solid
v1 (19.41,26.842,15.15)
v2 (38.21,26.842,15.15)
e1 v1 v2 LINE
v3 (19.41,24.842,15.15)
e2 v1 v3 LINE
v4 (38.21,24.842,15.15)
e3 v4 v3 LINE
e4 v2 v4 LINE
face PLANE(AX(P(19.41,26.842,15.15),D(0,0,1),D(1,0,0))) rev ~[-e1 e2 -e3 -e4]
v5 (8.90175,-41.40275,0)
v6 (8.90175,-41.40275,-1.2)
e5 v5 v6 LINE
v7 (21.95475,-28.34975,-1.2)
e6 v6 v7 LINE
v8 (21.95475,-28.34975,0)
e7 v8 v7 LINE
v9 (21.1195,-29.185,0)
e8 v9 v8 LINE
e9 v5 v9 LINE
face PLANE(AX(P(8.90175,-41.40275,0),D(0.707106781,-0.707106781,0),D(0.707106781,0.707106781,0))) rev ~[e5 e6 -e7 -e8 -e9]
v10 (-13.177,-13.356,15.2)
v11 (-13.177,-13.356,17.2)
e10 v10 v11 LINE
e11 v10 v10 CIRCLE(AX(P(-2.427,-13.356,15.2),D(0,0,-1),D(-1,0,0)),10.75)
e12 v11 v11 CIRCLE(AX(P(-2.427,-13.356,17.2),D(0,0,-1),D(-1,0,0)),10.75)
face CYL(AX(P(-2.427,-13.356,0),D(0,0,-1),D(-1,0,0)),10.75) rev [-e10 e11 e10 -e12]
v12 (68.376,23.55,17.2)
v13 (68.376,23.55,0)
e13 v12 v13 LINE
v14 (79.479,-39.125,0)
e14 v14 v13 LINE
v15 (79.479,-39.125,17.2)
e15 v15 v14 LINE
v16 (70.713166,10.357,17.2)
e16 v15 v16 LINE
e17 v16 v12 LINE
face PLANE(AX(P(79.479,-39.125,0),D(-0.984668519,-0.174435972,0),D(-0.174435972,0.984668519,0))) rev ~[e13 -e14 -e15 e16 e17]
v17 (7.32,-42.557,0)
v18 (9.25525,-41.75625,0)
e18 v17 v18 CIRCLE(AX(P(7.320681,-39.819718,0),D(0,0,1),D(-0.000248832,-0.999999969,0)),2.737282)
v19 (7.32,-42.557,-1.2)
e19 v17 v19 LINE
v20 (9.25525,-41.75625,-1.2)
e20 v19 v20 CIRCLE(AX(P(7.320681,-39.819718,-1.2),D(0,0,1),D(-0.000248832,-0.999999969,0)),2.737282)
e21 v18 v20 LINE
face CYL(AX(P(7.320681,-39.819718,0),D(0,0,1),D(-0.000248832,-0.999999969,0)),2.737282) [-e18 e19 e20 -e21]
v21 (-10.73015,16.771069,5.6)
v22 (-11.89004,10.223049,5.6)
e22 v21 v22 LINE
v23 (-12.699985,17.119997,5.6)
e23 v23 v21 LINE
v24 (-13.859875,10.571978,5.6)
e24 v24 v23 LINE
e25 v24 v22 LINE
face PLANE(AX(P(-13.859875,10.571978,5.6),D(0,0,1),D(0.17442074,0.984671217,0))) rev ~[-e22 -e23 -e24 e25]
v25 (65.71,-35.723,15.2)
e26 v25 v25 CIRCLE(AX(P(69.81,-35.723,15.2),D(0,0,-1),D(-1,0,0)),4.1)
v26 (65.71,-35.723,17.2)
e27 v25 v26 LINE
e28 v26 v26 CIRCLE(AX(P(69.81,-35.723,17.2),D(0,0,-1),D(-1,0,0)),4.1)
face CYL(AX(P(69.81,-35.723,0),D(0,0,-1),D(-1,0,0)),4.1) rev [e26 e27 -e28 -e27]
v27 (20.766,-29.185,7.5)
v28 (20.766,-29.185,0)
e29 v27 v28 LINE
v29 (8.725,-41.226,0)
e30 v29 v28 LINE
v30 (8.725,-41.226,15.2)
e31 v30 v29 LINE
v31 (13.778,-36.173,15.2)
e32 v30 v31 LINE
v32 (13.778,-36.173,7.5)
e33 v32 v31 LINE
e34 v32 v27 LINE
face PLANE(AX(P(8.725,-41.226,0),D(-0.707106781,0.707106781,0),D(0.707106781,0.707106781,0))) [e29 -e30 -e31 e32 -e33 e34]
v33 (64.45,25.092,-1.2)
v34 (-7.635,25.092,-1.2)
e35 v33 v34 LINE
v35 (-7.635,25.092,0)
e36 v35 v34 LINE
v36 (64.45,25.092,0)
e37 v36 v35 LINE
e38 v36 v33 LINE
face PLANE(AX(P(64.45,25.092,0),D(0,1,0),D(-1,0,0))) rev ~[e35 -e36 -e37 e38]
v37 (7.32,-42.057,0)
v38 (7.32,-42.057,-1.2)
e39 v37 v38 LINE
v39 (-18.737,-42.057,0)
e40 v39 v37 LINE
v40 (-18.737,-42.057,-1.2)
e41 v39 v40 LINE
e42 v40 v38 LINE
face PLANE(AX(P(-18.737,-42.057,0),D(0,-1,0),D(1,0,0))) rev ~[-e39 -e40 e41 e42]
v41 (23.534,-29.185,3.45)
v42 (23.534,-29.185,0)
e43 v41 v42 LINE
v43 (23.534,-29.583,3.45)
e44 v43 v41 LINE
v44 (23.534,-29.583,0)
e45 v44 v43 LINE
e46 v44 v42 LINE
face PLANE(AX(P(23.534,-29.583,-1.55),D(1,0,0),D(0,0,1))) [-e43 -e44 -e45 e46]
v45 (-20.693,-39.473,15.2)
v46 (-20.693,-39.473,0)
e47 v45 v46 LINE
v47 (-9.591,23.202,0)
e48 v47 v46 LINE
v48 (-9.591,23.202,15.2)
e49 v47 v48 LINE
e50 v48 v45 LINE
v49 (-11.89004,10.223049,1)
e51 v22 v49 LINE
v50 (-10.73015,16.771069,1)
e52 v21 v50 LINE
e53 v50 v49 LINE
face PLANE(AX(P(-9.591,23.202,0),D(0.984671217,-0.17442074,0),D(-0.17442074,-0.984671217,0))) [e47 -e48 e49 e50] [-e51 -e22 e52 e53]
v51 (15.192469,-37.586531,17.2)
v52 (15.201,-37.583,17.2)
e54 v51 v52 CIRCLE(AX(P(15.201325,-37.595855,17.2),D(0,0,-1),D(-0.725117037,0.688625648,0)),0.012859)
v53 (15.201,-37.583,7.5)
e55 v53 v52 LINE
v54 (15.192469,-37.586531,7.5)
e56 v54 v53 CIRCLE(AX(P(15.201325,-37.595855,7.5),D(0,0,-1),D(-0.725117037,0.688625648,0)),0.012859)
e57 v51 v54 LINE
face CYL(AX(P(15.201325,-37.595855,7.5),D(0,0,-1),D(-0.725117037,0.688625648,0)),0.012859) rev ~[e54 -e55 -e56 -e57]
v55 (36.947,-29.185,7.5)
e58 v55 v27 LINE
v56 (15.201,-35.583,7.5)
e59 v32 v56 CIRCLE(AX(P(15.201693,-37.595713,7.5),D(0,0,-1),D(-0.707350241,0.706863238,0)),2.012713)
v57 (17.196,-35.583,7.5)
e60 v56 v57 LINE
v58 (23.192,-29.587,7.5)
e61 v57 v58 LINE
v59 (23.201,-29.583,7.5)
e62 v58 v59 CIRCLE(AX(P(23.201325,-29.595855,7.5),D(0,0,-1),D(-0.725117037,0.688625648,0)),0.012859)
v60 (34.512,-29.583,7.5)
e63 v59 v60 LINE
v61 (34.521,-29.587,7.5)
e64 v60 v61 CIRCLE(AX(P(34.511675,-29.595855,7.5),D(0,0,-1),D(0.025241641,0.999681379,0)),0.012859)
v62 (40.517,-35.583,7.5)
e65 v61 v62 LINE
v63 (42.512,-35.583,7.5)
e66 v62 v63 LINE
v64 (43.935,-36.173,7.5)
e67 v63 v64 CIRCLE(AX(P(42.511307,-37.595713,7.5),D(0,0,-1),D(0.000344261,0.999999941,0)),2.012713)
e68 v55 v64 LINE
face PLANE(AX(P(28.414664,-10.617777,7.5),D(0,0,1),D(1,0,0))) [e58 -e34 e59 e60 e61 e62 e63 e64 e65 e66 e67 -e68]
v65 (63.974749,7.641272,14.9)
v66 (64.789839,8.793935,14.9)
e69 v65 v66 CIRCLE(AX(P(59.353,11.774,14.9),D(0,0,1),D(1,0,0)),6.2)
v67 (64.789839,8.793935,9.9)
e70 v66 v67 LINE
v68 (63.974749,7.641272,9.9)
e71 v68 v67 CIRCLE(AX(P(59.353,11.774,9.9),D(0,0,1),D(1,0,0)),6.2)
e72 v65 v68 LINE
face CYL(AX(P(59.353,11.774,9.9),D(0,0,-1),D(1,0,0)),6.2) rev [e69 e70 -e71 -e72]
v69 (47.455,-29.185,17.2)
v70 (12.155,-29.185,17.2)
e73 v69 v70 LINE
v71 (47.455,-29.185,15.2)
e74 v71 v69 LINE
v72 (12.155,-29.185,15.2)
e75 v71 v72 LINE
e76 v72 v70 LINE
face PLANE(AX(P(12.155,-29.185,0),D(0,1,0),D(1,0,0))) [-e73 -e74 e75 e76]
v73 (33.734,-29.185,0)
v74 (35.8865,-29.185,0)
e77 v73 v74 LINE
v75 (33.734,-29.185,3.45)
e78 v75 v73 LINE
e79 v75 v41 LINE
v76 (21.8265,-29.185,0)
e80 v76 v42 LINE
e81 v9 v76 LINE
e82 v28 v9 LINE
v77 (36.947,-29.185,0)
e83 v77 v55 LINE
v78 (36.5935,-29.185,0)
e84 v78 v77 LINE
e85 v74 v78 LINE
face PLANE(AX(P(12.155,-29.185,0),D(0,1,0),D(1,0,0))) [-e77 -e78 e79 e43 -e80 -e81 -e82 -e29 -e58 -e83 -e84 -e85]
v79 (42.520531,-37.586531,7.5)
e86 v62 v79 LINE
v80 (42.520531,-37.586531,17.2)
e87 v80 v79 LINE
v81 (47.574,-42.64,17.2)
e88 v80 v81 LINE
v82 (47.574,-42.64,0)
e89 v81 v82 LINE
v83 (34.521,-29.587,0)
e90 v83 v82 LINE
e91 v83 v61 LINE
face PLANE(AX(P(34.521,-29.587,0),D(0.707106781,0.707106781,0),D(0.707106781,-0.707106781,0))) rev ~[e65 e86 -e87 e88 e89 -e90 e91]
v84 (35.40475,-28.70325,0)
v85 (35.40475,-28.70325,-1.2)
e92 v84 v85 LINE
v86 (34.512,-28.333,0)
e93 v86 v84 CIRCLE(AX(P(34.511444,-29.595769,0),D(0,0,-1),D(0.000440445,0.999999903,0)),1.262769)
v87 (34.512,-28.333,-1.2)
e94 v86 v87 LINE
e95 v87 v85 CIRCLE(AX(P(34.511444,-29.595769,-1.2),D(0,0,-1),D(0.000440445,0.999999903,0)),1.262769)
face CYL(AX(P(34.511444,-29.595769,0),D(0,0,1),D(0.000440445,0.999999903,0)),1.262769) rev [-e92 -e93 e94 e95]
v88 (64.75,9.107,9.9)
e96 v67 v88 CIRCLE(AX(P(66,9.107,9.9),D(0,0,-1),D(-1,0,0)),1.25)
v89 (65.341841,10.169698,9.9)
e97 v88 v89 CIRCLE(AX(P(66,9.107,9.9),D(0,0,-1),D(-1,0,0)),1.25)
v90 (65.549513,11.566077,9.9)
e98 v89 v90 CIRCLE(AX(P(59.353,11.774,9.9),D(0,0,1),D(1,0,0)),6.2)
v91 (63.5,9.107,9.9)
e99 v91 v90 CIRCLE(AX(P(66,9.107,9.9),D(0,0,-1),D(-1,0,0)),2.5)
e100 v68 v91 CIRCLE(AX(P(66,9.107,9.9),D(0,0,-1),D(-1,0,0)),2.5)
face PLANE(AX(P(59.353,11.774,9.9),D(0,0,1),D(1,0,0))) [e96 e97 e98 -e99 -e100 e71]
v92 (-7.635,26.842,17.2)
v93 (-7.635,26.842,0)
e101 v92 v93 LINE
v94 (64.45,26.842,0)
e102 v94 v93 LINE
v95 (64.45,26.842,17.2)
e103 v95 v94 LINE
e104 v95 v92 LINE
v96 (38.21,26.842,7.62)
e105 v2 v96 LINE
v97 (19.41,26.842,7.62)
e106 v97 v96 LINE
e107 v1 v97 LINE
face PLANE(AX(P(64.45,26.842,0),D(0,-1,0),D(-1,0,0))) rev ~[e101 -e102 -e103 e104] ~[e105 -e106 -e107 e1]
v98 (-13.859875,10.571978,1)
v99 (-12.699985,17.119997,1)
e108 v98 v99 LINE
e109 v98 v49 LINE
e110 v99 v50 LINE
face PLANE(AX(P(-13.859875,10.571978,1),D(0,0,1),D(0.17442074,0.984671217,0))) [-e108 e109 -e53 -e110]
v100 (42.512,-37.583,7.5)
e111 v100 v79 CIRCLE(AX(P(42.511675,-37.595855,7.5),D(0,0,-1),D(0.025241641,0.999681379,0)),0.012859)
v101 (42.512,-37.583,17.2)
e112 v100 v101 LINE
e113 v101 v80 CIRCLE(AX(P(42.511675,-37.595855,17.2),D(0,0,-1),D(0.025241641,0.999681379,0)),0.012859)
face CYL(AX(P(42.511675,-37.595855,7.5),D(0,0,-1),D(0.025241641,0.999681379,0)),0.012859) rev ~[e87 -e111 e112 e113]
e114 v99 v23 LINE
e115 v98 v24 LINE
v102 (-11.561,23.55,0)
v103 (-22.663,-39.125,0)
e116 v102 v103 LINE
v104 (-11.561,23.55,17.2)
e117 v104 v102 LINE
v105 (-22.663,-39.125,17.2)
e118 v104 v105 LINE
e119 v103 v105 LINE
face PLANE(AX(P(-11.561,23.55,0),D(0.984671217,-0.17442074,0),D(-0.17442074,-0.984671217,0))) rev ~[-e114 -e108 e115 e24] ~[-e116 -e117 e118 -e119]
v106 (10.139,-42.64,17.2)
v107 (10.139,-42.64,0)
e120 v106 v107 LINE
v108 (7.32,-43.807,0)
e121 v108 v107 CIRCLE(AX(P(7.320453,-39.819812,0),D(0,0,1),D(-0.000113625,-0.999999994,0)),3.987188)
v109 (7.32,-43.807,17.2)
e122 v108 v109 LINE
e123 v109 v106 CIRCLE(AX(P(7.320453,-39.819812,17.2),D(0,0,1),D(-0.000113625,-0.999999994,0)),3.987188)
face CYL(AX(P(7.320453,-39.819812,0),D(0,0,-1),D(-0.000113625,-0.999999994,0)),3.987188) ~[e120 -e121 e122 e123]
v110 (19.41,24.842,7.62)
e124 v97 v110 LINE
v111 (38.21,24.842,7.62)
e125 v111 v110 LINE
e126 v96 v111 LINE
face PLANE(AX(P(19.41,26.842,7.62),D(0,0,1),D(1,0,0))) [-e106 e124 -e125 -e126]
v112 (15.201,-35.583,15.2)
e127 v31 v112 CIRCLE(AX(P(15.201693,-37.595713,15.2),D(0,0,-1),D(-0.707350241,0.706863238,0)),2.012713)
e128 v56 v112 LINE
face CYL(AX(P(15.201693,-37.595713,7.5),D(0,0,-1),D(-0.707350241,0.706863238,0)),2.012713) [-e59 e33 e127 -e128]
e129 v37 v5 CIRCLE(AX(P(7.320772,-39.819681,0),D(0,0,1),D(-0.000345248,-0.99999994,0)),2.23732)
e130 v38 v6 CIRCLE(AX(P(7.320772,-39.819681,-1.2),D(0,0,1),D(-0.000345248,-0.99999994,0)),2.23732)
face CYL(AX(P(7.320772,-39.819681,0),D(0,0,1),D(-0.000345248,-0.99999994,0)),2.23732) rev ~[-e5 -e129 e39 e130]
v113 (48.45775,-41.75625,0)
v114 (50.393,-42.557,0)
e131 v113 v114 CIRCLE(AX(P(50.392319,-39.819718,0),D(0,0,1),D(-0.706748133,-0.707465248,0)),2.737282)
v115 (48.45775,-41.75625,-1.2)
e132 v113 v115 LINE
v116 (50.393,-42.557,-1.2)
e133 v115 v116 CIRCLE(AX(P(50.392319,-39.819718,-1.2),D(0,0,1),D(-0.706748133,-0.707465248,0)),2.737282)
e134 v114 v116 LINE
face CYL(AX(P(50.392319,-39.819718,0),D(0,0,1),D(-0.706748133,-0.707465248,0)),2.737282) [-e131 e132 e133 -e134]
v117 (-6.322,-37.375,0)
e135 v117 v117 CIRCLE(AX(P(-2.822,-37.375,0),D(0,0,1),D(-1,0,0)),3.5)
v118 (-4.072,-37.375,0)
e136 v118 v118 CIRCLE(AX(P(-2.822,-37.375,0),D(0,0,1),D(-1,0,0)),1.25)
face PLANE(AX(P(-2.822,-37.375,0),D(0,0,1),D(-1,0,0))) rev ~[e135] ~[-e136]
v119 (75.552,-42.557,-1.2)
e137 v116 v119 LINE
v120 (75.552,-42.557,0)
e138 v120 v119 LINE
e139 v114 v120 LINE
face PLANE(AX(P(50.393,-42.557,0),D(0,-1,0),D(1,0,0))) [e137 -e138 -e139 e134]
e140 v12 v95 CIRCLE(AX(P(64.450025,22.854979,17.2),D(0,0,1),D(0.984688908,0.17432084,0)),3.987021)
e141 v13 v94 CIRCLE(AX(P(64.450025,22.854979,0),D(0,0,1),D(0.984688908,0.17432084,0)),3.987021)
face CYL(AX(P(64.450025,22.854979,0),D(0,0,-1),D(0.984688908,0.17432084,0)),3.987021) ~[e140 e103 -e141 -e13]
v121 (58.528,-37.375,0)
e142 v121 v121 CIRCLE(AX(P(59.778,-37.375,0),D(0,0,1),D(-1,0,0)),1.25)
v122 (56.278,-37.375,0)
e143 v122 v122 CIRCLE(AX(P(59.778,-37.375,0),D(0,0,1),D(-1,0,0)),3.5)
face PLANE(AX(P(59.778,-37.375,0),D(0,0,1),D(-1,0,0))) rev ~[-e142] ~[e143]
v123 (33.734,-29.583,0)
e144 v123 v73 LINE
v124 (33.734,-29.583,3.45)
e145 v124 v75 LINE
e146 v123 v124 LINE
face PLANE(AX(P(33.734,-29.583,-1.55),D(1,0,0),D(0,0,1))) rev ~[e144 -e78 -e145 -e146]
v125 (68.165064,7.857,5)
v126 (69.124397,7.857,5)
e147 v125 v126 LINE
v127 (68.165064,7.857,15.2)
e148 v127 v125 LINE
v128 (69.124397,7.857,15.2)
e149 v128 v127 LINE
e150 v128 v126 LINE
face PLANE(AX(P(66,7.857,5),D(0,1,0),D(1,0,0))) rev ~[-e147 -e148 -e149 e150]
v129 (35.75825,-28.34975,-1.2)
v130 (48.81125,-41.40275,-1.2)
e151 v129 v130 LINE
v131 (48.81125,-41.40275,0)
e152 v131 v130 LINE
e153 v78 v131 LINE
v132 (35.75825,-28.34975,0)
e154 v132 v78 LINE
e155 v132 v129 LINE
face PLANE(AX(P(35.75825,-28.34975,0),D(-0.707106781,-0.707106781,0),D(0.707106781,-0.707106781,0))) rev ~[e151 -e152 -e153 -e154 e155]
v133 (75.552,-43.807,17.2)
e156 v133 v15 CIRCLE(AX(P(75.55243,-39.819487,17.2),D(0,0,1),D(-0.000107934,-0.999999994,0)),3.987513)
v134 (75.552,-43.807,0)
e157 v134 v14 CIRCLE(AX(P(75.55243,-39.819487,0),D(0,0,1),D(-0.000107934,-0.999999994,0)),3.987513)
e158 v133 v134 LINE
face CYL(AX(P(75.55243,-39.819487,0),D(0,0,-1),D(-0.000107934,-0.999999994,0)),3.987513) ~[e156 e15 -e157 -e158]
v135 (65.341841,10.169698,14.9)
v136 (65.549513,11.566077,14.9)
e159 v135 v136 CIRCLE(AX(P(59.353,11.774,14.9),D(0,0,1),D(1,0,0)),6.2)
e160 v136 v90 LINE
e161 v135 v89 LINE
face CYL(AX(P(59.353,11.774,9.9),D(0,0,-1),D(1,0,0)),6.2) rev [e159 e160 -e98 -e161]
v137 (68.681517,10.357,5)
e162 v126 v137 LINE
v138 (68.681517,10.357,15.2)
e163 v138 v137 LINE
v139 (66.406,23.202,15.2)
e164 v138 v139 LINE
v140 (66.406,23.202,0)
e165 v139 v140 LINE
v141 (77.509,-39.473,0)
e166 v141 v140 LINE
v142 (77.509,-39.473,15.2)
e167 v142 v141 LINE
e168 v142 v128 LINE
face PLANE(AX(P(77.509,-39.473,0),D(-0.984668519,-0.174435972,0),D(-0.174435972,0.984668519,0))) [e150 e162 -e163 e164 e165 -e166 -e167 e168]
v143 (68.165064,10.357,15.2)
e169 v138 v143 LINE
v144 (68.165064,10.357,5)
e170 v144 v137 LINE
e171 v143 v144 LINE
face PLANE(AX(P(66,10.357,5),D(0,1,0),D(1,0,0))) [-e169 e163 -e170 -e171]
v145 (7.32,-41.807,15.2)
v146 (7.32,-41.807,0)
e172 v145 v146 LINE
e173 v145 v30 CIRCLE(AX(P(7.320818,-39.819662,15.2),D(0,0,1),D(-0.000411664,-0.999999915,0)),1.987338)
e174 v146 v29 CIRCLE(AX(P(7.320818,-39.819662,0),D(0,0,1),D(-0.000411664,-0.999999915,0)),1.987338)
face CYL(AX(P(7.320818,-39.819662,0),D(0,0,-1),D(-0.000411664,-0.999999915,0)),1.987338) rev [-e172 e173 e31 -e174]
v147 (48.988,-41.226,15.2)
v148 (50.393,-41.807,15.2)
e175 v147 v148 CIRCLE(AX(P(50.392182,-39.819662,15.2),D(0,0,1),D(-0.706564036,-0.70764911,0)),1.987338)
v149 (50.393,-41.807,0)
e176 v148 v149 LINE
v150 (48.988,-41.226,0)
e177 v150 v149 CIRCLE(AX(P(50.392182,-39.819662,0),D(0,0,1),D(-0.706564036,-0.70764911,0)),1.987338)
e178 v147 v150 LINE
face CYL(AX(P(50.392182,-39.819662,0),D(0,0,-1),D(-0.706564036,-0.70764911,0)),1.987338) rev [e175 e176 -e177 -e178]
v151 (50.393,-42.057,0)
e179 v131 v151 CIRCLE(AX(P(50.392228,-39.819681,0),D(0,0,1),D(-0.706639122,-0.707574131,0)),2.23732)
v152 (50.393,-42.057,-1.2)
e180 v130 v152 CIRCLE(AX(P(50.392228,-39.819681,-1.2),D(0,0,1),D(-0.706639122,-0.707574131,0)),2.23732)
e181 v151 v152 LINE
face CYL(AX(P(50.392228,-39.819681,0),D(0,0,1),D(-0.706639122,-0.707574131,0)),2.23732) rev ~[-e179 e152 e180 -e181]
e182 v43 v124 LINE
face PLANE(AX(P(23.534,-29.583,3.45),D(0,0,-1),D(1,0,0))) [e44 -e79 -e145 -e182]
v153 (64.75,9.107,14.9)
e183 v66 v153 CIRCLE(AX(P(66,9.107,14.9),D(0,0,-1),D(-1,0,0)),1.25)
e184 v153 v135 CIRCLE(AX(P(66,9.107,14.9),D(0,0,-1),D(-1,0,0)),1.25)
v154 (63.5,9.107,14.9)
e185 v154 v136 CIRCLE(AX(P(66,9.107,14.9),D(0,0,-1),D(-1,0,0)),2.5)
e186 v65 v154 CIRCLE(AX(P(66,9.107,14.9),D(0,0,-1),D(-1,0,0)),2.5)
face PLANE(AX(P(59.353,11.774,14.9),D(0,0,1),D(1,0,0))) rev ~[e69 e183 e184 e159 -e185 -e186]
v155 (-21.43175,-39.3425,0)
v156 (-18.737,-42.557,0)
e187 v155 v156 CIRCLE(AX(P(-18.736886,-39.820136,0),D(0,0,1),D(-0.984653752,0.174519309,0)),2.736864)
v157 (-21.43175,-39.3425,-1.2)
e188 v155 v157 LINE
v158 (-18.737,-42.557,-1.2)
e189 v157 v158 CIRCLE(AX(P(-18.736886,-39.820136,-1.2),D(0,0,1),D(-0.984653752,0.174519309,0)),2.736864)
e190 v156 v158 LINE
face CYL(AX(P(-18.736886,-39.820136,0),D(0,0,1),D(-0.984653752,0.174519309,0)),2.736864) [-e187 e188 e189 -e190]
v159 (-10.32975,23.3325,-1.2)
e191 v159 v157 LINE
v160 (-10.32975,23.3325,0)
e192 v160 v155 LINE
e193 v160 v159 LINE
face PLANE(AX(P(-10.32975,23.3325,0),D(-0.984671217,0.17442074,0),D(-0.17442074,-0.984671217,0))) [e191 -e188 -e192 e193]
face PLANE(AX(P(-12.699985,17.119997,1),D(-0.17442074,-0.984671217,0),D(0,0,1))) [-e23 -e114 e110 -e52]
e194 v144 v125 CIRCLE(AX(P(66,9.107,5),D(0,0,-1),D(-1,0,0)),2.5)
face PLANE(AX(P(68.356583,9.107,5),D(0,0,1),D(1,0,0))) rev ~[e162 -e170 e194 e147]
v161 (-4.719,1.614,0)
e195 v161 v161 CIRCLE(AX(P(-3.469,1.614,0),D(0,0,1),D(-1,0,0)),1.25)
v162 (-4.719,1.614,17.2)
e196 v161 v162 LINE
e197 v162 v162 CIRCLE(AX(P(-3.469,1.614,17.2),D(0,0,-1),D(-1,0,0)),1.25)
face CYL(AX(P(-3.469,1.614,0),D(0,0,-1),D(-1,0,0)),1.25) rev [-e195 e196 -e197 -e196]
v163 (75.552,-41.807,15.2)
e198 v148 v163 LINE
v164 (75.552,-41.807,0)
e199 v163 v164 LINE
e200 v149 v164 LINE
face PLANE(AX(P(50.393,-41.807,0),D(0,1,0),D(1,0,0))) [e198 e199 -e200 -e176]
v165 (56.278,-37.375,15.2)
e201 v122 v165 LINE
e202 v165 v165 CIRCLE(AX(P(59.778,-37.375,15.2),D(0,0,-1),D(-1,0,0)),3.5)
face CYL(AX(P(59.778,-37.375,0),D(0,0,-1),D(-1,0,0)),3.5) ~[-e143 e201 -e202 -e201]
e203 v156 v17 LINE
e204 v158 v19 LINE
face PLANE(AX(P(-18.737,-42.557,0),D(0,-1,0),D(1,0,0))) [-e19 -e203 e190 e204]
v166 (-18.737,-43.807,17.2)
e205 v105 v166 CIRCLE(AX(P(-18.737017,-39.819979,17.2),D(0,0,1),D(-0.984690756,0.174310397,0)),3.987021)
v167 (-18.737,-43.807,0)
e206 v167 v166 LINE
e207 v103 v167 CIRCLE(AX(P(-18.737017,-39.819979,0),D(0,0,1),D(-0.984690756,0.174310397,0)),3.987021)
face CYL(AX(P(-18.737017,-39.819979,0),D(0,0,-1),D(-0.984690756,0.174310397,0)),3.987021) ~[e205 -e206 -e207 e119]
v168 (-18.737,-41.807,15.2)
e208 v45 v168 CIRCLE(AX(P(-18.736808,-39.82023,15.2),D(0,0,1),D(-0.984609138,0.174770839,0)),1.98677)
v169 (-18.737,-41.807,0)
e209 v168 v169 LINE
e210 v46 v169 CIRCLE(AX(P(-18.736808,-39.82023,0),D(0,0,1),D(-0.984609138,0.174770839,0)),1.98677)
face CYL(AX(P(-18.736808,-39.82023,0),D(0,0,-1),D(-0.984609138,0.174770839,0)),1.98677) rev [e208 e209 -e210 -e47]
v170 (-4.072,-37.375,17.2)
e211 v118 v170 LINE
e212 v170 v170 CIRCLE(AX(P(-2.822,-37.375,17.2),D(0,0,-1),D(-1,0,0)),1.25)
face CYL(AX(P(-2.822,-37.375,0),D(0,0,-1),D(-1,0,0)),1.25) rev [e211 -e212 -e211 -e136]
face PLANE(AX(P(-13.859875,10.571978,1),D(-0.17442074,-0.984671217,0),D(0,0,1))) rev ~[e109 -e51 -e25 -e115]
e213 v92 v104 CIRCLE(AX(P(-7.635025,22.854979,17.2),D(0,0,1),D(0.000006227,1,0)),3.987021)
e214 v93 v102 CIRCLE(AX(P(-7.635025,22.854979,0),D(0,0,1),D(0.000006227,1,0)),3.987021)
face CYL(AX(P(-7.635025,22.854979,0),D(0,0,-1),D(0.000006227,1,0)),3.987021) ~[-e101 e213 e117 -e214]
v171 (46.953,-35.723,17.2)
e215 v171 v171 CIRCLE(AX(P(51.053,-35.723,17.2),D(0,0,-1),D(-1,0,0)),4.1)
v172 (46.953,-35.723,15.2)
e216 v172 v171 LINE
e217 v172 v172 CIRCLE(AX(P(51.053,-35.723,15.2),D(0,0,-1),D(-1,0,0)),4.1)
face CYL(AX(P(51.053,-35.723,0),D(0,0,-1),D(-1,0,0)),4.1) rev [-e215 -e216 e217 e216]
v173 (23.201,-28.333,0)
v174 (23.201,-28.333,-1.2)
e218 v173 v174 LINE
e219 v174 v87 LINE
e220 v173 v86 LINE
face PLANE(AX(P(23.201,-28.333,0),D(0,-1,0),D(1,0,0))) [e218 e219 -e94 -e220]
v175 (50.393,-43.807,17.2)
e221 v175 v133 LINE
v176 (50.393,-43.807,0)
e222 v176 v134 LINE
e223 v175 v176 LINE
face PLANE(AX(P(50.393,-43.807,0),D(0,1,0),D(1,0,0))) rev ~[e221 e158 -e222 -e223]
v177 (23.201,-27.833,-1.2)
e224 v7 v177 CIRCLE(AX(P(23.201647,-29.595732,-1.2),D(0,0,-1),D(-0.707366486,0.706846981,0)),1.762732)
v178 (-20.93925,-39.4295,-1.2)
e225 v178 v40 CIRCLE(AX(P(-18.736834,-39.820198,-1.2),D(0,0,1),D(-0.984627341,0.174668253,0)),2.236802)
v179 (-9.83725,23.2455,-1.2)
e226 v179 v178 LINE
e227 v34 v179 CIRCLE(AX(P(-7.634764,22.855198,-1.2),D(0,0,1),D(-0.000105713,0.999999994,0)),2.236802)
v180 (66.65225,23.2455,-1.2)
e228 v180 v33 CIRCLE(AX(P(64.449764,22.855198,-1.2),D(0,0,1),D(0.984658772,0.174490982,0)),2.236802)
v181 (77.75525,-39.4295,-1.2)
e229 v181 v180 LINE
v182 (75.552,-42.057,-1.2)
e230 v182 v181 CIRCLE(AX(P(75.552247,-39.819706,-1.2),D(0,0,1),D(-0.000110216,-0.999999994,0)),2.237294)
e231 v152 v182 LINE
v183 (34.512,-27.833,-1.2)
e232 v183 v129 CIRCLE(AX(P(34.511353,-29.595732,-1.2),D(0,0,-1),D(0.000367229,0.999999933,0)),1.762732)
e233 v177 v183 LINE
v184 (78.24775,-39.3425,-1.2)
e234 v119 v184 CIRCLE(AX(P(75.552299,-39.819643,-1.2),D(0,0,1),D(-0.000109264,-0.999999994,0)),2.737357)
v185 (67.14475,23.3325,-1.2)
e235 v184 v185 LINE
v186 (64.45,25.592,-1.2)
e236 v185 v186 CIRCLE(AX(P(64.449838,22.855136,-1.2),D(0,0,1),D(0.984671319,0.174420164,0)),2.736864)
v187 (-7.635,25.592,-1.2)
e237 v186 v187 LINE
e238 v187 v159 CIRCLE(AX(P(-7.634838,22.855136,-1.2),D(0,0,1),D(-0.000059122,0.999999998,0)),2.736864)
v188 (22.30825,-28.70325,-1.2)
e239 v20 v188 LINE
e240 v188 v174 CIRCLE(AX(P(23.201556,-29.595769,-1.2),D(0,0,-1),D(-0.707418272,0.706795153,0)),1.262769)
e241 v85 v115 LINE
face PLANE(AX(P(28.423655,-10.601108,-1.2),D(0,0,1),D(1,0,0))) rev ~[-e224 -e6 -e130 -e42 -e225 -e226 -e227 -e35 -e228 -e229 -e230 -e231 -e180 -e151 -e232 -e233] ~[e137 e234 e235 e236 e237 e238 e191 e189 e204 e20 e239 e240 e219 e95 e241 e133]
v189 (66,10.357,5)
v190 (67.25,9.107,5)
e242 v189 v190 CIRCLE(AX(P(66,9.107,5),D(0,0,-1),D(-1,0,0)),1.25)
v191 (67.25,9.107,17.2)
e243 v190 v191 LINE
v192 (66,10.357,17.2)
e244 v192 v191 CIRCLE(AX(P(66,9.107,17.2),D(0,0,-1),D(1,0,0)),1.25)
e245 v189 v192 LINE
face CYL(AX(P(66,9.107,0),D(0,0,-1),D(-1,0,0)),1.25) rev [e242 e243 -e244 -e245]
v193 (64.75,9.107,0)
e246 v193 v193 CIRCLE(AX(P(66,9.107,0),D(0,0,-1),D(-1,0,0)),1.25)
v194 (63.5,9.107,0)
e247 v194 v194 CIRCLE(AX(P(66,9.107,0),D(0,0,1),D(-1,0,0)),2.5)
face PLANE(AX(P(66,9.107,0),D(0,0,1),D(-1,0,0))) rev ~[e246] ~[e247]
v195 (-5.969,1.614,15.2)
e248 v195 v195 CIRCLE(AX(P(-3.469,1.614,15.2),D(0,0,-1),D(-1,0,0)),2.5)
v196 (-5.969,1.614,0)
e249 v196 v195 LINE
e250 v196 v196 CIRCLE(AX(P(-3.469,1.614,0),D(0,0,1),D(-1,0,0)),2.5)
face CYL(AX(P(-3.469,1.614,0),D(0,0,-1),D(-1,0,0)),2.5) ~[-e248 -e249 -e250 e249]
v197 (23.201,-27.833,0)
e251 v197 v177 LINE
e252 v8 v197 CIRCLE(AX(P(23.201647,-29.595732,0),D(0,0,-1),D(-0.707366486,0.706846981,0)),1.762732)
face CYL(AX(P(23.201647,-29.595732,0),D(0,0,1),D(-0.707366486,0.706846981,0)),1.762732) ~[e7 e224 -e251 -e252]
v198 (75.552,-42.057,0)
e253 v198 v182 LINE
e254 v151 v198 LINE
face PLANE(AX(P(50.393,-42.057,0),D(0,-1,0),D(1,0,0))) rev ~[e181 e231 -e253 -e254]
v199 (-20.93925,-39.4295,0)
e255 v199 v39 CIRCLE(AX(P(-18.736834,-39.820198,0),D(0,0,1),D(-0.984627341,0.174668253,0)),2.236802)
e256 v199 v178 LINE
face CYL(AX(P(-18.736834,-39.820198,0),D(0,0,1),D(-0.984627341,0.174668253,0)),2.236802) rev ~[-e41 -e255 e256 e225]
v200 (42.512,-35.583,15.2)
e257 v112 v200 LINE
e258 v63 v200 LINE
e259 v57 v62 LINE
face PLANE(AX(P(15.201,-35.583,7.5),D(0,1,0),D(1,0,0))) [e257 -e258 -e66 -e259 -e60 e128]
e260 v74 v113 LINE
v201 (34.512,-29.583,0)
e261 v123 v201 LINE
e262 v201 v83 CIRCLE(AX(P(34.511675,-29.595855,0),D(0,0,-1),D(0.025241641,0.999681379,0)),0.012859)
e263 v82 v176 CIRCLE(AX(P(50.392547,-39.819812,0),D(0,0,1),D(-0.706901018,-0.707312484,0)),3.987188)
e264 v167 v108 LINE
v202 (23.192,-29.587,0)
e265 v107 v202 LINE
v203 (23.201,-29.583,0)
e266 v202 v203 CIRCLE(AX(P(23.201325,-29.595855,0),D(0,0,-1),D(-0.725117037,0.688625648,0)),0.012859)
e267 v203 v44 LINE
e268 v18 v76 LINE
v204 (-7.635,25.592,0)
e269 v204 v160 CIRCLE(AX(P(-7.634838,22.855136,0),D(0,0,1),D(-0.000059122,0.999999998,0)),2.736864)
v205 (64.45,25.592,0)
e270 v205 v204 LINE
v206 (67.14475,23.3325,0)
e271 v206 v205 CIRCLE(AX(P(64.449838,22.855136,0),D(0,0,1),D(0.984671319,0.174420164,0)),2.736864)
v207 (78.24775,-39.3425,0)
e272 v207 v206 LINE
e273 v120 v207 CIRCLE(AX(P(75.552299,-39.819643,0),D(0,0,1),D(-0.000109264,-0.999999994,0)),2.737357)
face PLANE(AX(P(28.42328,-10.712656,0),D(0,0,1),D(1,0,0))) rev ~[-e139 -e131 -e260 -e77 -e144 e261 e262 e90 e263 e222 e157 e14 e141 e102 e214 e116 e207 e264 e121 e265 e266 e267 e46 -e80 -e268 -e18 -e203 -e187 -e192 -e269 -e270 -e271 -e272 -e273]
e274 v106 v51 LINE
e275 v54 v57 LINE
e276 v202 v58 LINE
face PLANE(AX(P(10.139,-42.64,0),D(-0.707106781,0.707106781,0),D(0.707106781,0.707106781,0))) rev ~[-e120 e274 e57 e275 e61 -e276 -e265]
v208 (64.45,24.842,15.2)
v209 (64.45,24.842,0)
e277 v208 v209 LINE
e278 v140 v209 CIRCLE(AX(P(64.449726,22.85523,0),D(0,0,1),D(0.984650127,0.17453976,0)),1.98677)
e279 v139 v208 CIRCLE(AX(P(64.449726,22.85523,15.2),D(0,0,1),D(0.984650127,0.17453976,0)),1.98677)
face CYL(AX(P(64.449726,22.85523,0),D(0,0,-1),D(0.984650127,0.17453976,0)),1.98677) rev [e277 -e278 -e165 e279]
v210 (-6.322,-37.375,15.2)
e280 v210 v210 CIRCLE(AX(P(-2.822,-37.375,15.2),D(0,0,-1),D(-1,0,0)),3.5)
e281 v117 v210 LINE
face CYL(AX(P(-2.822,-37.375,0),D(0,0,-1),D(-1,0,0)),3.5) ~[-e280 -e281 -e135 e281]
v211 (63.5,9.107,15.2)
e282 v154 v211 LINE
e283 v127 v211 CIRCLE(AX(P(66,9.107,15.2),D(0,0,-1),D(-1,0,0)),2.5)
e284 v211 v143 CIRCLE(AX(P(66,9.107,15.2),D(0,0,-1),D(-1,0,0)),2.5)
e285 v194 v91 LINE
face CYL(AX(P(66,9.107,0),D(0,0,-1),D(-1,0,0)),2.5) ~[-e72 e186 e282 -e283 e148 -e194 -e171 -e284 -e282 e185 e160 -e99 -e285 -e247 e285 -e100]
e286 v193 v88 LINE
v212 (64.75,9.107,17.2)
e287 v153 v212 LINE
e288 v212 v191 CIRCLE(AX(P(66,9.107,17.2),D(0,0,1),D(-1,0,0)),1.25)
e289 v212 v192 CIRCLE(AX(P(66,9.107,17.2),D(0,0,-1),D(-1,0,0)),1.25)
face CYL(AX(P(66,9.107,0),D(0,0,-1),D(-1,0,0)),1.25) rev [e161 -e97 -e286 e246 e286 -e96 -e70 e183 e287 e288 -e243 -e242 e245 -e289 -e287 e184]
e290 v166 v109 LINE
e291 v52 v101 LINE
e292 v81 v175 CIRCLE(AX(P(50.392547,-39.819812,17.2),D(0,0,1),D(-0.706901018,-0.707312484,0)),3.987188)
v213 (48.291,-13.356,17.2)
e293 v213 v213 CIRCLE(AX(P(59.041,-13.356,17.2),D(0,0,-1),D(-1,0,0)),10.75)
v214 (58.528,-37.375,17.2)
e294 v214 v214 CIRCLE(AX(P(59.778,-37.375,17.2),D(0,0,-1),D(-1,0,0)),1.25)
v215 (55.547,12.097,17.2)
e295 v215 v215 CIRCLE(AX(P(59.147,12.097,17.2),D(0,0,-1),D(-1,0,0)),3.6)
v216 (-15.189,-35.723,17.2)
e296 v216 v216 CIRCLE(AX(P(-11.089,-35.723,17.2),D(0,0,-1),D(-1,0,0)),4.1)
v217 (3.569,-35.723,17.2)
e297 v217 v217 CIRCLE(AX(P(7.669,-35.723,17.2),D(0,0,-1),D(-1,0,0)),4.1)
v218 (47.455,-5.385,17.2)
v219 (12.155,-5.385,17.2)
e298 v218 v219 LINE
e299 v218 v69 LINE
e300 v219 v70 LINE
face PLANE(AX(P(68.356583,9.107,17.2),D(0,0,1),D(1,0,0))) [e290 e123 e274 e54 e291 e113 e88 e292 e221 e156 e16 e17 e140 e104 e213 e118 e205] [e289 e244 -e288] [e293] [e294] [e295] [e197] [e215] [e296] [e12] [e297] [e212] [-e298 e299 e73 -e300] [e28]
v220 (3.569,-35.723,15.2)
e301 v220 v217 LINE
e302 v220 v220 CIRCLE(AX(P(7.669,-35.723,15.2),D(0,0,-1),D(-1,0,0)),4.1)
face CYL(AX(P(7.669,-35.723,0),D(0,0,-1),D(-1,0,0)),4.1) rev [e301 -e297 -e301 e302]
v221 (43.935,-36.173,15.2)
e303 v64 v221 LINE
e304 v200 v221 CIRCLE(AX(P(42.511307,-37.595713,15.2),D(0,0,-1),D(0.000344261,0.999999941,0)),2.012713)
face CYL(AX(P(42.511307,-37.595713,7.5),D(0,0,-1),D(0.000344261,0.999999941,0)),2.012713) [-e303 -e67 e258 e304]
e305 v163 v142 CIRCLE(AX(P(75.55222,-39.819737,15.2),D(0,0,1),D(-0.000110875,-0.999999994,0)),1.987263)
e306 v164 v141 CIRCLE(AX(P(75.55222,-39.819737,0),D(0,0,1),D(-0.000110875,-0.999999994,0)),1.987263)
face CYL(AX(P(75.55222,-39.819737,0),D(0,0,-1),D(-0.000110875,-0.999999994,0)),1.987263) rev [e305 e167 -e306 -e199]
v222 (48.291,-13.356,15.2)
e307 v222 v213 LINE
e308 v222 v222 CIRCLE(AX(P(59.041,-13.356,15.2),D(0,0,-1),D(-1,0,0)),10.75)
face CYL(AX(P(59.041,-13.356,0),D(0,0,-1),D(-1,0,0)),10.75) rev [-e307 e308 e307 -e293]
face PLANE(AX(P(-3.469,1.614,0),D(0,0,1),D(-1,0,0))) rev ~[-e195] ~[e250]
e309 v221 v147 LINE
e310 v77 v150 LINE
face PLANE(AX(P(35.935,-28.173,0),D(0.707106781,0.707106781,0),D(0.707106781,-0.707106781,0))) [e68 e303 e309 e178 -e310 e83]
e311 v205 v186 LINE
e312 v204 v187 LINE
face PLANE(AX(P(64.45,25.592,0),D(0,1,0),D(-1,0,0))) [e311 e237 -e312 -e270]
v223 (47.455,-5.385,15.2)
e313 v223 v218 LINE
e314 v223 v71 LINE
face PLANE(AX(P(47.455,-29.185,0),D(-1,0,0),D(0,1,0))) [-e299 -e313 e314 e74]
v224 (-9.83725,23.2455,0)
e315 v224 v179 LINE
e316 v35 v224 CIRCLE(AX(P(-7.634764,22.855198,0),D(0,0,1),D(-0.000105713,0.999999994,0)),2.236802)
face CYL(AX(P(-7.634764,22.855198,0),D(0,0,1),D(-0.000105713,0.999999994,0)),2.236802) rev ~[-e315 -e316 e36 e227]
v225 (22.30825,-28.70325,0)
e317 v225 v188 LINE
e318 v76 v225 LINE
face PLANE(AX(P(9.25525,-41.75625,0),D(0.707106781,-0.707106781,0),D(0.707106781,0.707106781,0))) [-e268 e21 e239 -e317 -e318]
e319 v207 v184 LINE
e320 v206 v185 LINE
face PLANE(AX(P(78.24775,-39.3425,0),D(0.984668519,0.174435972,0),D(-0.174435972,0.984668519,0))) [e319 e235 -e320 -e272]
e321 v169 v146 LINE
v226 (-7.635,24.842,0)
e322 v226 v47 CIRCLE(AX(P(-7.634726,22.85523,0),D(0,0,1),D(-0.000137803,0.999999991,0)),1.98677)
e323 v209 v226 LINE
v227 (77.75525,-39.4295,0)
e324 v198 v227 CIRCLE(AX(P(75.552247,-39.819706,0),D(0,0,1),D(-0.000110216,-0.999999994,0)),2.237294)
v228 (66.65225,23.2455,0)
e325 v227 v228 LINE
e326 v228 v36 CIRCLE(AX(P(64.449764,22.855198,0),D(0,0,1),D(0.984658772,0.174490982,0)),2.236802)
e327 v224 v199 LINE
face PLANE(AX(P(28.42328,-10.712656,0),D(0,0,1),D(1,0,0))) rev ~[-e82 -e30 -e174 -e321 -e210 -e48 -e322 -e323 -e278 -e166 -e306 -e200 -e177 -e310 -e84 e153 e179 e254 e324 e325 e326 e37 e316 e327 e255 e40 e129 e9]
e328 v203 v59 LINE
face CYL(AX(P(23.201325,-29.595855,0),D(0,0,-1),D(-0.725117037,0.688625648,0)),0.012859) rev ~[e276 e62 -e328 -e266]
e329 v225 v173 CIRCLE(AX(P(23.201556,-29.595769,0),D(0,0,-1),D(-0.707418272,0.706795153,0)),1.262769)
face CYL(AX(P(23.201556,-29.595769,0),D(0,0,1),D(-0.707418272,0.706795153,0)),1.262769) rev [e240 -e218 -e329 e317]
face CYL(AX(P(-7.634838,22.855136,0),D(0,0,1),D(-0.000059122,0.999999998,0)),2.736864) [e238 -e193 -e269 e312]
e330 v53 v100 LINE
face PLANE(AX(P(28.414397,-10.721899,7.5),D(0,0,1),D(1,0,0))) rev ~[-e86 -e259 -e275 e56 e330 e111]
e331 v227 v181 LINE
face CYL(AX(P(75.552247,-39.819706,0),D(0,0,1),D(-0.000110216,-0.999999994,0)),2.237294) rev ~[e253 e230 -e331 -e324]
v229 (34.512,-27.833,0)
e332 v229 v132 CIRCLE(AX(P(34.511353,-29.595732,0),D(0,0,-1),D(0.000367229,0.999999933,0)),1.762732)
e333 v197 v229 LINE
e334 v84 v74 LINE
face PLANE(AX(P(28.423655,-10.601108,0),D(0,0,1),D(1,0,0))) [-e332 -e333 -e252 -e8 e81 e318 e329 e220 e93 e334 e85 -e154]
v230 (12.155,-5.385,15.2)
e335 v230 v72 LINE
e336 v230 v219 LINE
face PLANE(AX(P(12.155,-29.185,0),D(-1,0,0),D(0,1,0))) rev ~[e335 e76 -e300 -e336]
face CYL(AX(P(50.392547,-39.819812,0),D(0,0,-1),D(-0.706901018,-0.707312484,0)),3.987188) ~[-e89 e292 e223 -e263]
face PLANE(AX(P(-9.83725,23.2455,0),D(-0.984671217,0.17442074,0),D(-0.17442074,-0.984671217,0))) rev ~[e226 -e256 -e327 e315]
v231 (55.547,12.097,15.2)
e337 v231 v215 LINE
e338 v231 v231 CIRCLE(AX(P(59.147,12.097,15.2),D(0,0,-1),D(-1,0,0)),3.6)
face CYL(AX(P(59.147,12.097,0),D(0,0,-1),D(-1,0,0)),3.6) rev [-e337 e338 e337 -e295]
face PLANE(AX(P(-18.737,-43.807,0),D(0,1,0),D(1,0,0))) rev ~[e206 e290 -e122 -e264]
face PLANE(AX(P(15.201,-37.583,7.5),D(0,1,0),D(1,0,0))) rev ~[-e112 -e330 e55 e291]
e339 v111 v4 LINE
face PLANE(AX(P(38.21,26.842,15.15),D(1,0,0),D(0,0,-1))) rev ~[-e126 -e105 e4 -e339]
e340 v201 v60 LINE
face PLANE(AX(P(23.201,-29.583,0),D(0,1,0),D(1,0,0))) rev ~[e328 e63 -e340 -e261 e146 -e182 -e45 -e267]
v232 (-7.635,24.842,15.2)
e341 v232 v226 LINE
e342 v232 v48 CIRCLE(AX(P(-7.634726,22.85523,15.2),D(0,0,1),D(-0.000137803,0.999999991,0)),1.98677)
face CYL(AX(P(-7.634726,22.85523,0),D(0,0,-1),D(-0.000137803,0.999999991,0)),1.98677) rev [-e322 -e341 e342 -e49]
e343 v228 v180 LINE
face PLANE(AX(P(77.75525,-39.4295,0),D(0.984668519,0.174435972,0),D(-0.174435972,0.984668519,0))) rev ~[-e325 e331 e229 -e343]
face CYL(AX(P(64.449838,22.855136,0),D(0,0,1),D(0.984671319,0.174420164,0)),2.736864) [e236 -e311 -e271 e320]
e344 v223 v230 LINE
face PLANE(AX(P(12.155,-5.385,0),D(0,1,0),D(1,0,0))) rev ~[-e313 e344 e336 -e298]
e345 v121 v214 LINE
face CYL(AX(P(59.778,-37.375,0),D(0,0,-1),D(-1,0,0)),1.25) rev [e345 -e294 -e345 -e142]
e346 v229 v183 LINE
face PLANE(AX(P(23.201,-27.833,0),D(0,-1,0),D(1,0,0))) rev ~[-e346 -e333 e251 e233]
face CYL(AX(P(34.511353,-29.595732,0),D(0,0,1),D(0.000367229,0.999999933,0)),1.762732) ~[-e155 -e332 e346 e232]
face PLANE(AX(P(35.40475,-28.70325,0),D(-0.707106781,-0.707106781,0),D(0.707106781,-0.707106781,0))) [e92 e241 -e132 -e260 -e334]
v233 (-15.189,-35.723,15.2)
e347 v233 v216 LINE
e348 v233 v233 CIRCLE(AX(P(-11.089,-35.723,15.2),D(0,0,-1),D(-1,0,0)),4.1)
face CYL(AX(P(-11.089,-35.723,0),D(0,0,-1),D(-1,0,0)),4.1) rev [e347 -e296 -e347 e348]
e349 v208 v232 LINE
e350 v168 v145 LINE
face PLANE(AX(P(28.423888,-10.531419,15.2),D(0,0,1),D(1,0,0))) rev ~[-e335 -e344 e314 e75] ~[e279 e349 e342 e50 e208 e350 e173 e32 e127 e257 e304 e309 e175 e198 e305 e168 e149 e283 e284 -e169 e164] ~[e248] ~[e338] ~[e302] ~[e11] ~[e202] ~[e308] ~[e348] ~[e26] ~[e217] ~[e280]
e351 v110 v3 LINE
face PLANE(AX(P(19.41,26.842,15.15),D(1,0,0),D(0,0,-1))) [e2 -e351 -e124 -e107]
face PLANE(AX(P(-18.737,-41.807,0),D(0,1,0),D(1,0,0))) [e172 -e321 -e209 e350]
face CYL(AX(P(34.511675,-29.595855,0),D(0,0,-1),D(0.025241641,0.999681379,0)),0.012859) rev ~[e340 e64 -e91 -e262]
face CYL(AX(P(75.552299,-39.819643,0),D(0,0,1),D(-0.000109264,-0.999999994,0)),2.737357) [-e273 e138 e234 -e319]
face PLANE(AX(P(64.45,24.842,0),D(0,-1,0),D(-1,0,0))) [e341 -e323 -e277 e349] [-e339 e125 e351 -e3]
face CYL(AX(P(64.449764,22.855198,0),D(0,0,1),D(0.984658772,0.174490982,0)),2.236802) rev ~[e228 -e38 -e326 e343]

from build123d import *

# Parameters (mm, degrees)
EXTRUDE_17_2_DEPTH                             = 17.2
OLED_USB_START                                 = 7.5
OLED_USB_DEPTH                                 = 9.700000000000001
CUT_EXTRUDE_2_0_DEPTH                          = 15.2
OLED_START                                     = 7.5
OLED_DEPTH                                     = 7.7
SKETCH_5_R                                     = 2.5
SKETCH_5_R_2                                   = 2.500000000000002
SKETCH_5_R_3                                   = 3.5
SKETCH_5_R_4                                   = 3.500000000000003
EXTRUDE_741_DEPTH                              = 17.2
SKETCH_6_R                                     = 1.2500000000000002
SKETCH_6_R_2                                   = 1.250000000000001
SKETCH_6_R_3                                   = 1.25
CUT_EXTRUDE_M3_2_5_DEPTH                       = 93.42021351506384
EXTRUDE_START                                  = 5
SKETCH_7_W                                     = 4.713165999202246
SKETCH_7_H                                     = 2.4999999999999956
EXTRUDE_955_DEPTH                              = 12.2
CUT_EXTRUDE_START                              = 9.9
SKETCH_8_R                                     = 6.1999999999999975
CUT_EXTRUDE_1046_DEPTH                         = 5
SKETCH_9_R                                     = 1.250000000000001
CUT_EXTRUDE_1137_DEPTH                         = 93.42021351506384
SKETCH_10_R                                    = 10.75
SKETCH_10_R_2                                  = 10.749999999999996
SKETCH_10_R_3                                  = 4.1
SKETCH_10_R_4                                  = 4.099999999999999
SKETCH_10_R_5                                  = 4.100000000000007
SKETCH_10_R_6                                  = 3.599999999999999
FRONTPANEL_CONTROL_OPENINGS_DEPTH              = 93.42021351506384
SKETCH_11_W                                    = 35.30000000000001
SKETCH_11_H                                    = 23.799999999999997
OLED_0P96_FROM_HEADER_TOWARD_TYPEC_DEPTH       = 93.42021351506384
SKETCH_12_W                                    = 10.200000000000006
SKETCH_12_H                                    = 5
USB_TYPEC_SIDE_OPENING_DEPTH                   = 4
SKETCH_13_W                                    = 4.6
SKETCH_13_H                                    = 6.6499551868823445
SW13_TOGGLE_LEFT_SIDE_OPENING_2026_09_13_DEPTH = 4
SKETCH_14_W                                    = 18.8
SKETCH_14_H                                    = 7.53
NRF24_CORRECTED_2026_09_13_REAR_OPENING_DEPTH  = 4
PCB_0_25_DEPTH                                 = 1.2


with BuildPart() as part:
    # 草图1 → 上壳外形_高17.2 (new body)
    with BuildSketch(Plane.XY):
        with BuildLine():
            Line((-11.561, 23.55), (-22.663, -39.125))
            ThreePointArc((-22.663, -39.125), (-21.792108529649465, -42.381766357839346), (-18.737000000000002, -43.807))
            Line((-18.737000000000002, -43.807), (7.32, -43.807))
            ThreePointArc((7.32, -43.807), (8.845538475808986, -43.50380202511186), (10.139, -42.64000000000001))
            Line((10.139, -42.64000000000001), (23.192, -29.587))
            ThreePointArc((23.192, -29.587), (23.19610188321669, -29.58410423723755), (23.201, -29.583))
            Line((23.201, -29.583), (34.512, -29.583))
            ThreePointArc((34.512, -29.583), (34.51689811678331, -29.584104237237554), (34.521, -29.587))
            Line((34.521, -29.587), (47.574, -42.64000000000001))
            ThreePointArc((47.574, -42.64000000000001), (48.867461524191015, -43.50380202511187), (50.393, -43.807))
            Line((50.393, -43.807), (75.552, -43.807))
            ThreePointArc((75.552, -43.807), (78.60757740675032, -42.381973510531516), (79.479, -39.125))
            Line((79.479, -39.125), (68.376, 23.55))
            ThreePointArc((68.376, 23.55), (67.01177960240898, 25.910097423772065), (64.45, 26.842))
            Line((64.45, 26.842), (-7.635000000000001, 26.842))
            ThreePointArc((-7.635000000000001, 26.842), (-10.196779602408974, 25.91009742377206), (-11.561, 23.55))
        make_face()
    extrude(amount=EXTRUDE_17_2_DEPTH)

    # 草图2 → OLED前伸罩_下部避让USB (add)
    with BuildSketch(Plane.XY.offset(OLED_USB_START)):
        with BuildLine():
            Line((-11.561, 23.55), (-22.663, -39.125))
            ThreePointArc((-22.663, -39.125), (-21.792108529649465, -42.381766357839346), (-18.737000000000002, -43.807))
            Line((-18.737000000000002, -43.807), (7.32, -43.807))
            ThreePointArc((7.32, -43.807), (8.845538475808986, -43.50380202511186), (10.139, -42.64000000000001))
            Line((10.139, -42.64000000000001), (15.192, -37.587))
            ThreePointArc((15.192, -37.587), (15.196101883216691, -37.58410423723756), (15.201, -37.583))
            Line((15.201, -37.583), (42.512, -37.583))
            ThreePointArc((42.512, -37.583), (42.51689811678331, -37.584104237237554), (42.521, -37.587))
            Line((42.521, -37.587), (47.574, -42.64000000000001))
            ThreePointArc((47.574, -42.64000000000001), (48.867461524191015, -43.50380202511187), (50.393, -43.807))
            Line((50.393, -43.807), (75.552, -43.807))
            ThreePointArc((75.552, -43.807), (78.60757740675032, -42.381973510531516), (79.479, -39.125))
            Line((79.479, -39.125), (68.376, 23.55))
            ThreePointArc((68.376, 23.55), (67.01177960240898, 25.910097423772065), (64.45, 26.842))
            Line((64.45, 26.842), (-7.635000000000001, 26.842))
            ThreePointArc((-7.635000000000001, 26.842), (-10.196779602408974, 25.91009742377206), (-11.561, 23.55))
        make_face()
    extrude(amount=OLED_USB_DEPTH)

    # 草图3 → 内部腔体_壁厚2.0 (cut)
    with BuildSketch(Plane.XY):
        with BuildLine():
            Line((-9.591000000000001, 23.202000000000005), (-20.693, -39.473))
            ThreePointArc((-20.693, -39.473), (-20.259551642513195, -41.09635947418843), (-18.737000000000002, -41.807))
            Line((-18.737000000000002, -41.807), (7.32, -41.807))
            ThreePointArc((7.32, -41.807), (8.080257195993655, -41.65617101612923), (8.725000000000001, -41.226))
            Line((8.725000000000001, -41.226), (21.778, -28.173000000000002))
            ThreePointArc((21.778, -28.173000000000002), (22.430820843783202, -27.73647383170085), (23.201, -27.583))
            Line((23.201, -27.583), (34.512, -27.583))
            ThreePointArc((34.512, -27.583), (35.2821791562168, -27.736473831700845), (35.935, -28.173000000000002))
            Line((35.935, -28.173000000000002), (48.98800000000001, -41.226))
            ThreePointArc((48.98800000000001, -41.226), (49.63274280400635, -41.65617101612923), (50.393, -41.807))
            Line((50.393, -41.807), (75.552, -41.807))
            ThreePointArc((75.552, -41.807), (77.0750204222898, -41.09656660943493), (77.50900000000001, -39.473))
            Line((77.50900000000001, -39.473), (66.406, 23.202000000000005))
            ThreePointArc((66.406, 23.202000000000005), (65.72621342599425, 24.37767406173459), (64.45, 24.842))
            Line((64.45, 24.842), (-7.635000000000001, 24.842))
            ThreePointArc((-7.635000000000001, 24.842), (-8.911213425994234, 24.377674061734588), (-9.591000000000001, 23.202000000000005))
        make_face()
    extrude(amount=CUT_EXTRUDE_2_0_DEPTH, mode=Mode.SUBTRACT)

    # 草图4 → OLED前伸内腔 (cut)
    with BuildSketch(Plane.XY.offset(OLED_START)):
        with BuildLine():
            Line((-9.591000000000001, 23.202000000000005), (-20.693, -39.473))
            ThreePointArc((-20.693, -39.473), (-20.259551642513195, -41.09635947418843), (-18.737000000000002, -41.807))
            Line((-18.737000000000002, -41.807), (7.32, -41.807))
            ThreePointArc((7.32, -41.807), (8.080257195993655, -41.65617101612923), (8.725000000000001, -41.226))
            Line((8.725000000000001, -41.226), (13.777999999999999, -36.173))
            ThreePointArc((13.777999999999999, -36.173), (14.430820843783206, -35.73647383170085), (15.201, -35.583))
            Line((15.201, -35.583), (42.512, -35.583))
            ThreePointArc((42.512, -35.583), (43.2821791562168, -35.73647383170085), (43.935, -36.173))
            Line((43.935, -36.173), (48.98800000000001, -41.226))
            ThreePointArc((48.98800000000001, -41.226), (49.63274280400635, -41.65617101612923), (50.393, -41.807))
            Line((50.393, -41.807), (75.552, -41.807))
            ThreePointArc((75.552, -41.807), (77.0750204222898, -41.09656660943493), (77.50900000000001, -39.473))
            Line((77.50900000000001, -39.473), (66.406, 23.202000000000005))
            ThreePointArc((66.406, 23.202000000000005), (65.72621342599425, 24.37767406173459), (64.45, 24.842))
            Line((64.45, 24.842), (-7.635000000000001, 24.842))
            ThreePointArc((-7.635000000000001, 24.842), (-8.911213425994234, 24.377674061734588), (-9.591000000000001, 23.202000000000005))
        make_face()
    extrude(amount=OLED_DEPTH, mode=Mode.SUBTRACT)

    # 草图5 → Extrude 741 (add)
    with BuildSketch(Plane.XY):
        with Locations(Location((-3.469, 1.614, 0), (0, 0, 180))):
            Circle(SKETCH_5_R)
        with Locations(Location((66, 9.107, 0), (0, 0, 180))):
            Circle(SKETCH_5_R_2)
        with Locations(Location((-2.8220000000000005, -37.375, 0), (0, 0, 180))):
            Circle(SKETCH_5_R_3)
        with Locations(Location((59.778, -37.375, 0), (0, 0, 180))):
            Circle(SKETCH_5_R_4)
    extrude(amount=EXTRUDE_741_DEPTH)

    # 草图6 → M3自攻底孔_直径2.5 (cut, through all)
    with BuildSketch(Plane.XY):
        with Locations(Location((-3.469, 1.614, 0), (0, 0, 180))):
            Circle(SKETCH_6_R)
        with Locations(Location((66, 9.107, 0), (0, 0, 180))):
            Circle(SKETCH_6_R_2)
        with Locations(Location((-2.8220000000000005, -37.375, 0), (0, 0, 180))):
            Circle(SKETCH_6_R_3)
        with Locations(Location((59.778, -37.375, 0), (0, 0, 180))):
            Circle(SKETCH_6_R_2)
    extrude(amount=CUT_EXTRUDE_M3_2_5_DEPTH, mode=Mode.SUBTRACT)

    # 草图7 → Extrude 955 (add)
    with BuildSketch(Plane.XY.offset(EXTRUDE_START)):
        with Locations((68.35658299960113, 9.106999999999996)):
            Rectangle(SKETCH_7_W, SKETCH_7_H)
    extrude(amount=EXTRUDE_955_DEPTH)

    # 草图8 → Cut-Extrude 1046 (cut)
    with BuildSketch(Plane.XY.offset(CUT_EXTRUDE_START)):
        with Locations((59.353, 11.774)):
            Circle(SKETCH_8_R)
    extrude(amount=CUT_EXTRUDE_1046_DEPTH, mode=Mode.SUBTRACT)

    # 草图9 → Cut-Extrude 1137 (cut, through all)
    with BuildSketch(Plane.XY):
        with Locations((66, 9.107)):
            Circle(SKETCH_9_R)
    extrude(amount=CUT_EXTRUDE_1137_DEPTH, mode=Mode.SUBTRACT)

    # 草图10 → FrontPanel_Control_Openings (cut, through all)
    with BuildSketch(Plane.XY):
        with Locations(Location((-2.427, -13.356, 0), (0, 0, 180))):
            Circle(SKETCH_10_R)
        with Locations(Location((59.041, -13.356, 0), (0, 0, 180))):
            Circle(SKETCH_10_R_2)
        with Locations(Location((-11.089, -35.723, 0), (0, 0, 180))):
            Circle(SKETCH_10_R_3)
        with Locations(Location((7.669, -35.723, 0), (0, 0, 180))):
            Circle(SKETCH_10_R_4)
        with Locations(Location((51.053000000000004, -35.723, 0), (0, 0, 180))):
            Circle(SKETCH_10_R_3)
        with Locations(Location((69.81, -35.723, 0), (0, 0, 180))):
            Circle(SKETCH_10_R_5)
        with Locations(Location((59.147, 12.097, 0), (0, 0, 180))):
            Circle(SKETCH_10_R_6)
    extrude(amount=FRONTPANEL_CONTROL_OPENINGS_DEPTH, mode=Mode.SUBTRACT)

    # 草图11 → OLED_0p96_From_Header_Toward_TypeC (cut, through all)
    with BuildSketch(Plane.XY):
        with Locations((29.805, -17.285)):
            Rectangle(SKETCH_11_W, SKETCH_11_H)
    extrude(amount=OLED_0P96_FROM_HEADER_TOWARD_TYPEC_DEPTH, mode=Mode.SUBTRACT)

    # 草图12 → USB_TypeC_Side_Opening (cut)
    with BuildSketch(Plane.XZ.offset(29.583)):
        with Locations((28.634, 0.9500000000000001)):
            Rectangle(SKETCH_12_W, SKETCH_12_H)
    extrude(amount=-USB_TYPEC_SIDE_OPENING_DEPTH, mode=Mode.SUBTRACT)

    # 草图13 → SW13_Toggle_Left_Side_Opening_2026-09-13_OBJ (cut)
    with BuildSketch(Plane(origin=(-15.253928164703426, 2.7020201114405644, 0), x_dir=(0, 0, 1), z_dir=(-0.9846712170135259, 0.17442073954980714, 0))):
        with Locations((3.3, 11.317450249547845)):
            Rectangle(SKETCH_13_W, SKETCH_13_H)
    extrude(amount=-SW13_TOGGLE_LEFT_SIDE_OPENING_2026_09_13_DEPTH, mode=Mode.SUBTRACT)

    # 草图14 → NRF24_Corrected_2026-09-13_Rear_Opening (cut)
    with BuildSketch(Plane(origin=(0, 26.842, 0), x_dir=(1, 0, 0), z_dir=(0, 1, 0))):
        with Locations((28.810000000000002, -11.385)):
            Rectangle(SKETCH_14_W, SKETCH_14_H)
    extrude(amount=-NRF24_CORRECTED_2026_09_13_REAR_OPENING_DEPTH, mode=Mode.SUBTRACT)

    # 草图15 → 内定位舌_避让最新PCB_0.25 (add)
    with BuildSketch(Plane.XY):
        with BuildLine():
            Line((-10.32975, 23.332500000000003), (-21.431750000000005, -39.3425))
            ThreePointArc((-21.431750000000005, -39.3425), (-20.83426044671693, -41.578387053209035), (-18.737000000000002, -42.557))
            Line((-18.737000000000002, -42.557), (7.32, -42.557))
            ThreePointArc((7.32, -42.557), (8.36723766804936, -42.349032637642864), (9.25525, -41.75625))
            Line((9.25525, -41.75625), (22.30825, -28.703249999999997))
            ThreePointArc((22.30825, -28.703249999999997), (22.717801339935214, -28.429335472591927), (23.201, -28.333000000000002))
            Line((23.201, -28.333000000000002), (34.512, -28.333000000000002))
            ThreePointArc((34.512, -28.333000000000002), (34.99519866006479, -28.429335472591927), (35.40475, -28.703249999999997))
            Line((35.40475, -28.703249999999997), (48.457750000000004, -41.75625))
            ThreePointArc((48.457750000000004, -41.75625), (49.345762331950645, -42.349032637642864), (50.393, -42.557))
            Line((50.393, -42.557), (75.552, -42.557))
            ThreePointArc((75.552, -42.557), (77.64972927966592, -41.578594197980834), (78.24775000000001, -39.3425))
            Line((78.24775000000001, -39.3425), (67.14475, 23.332500000000003))
            ThreePointArc((67.14475, 23.332500000000003), (66.2083007338109, 24.952332815307344), (64.45, 25.592))
            Line((64.45, 25.592), (-7.635000000000001, 25.592))
            ThreePointArc((-7.635000000000001, 25.592), (-9.393300733810905, 24.952332815307344), (-10.32975, 23.332500000000003))
        make_face()
        with BuildLine():
            Line((-9.837250000000001, 23.2455), (-20.93925, -39.4295))
            ThreePointArc((-20.93925, -39.4295), (-20.451121237147458, -41.25703533330466), (-18.737000000000002, -42.057))
            Line((-18.737000000000002, -42.057), (7.32, -42.057))
            ThreePointArc((7.32, -42.057), (8.175917351474741, -41.88712488833805), (8.901750000000002, -41.40275))
            Line((8.901750000000002, -41.40275), (21.954749999999997, -28.34975))
            ThreePointArc((21.954749999999997, -28.34975), (22.526481009264852, -27.96742771223285), (23.201, -27.833))
            Line((23.201, -27.833), (34.512, -27.833))
            ThreePointArc((34.512, -27.833), (35.186518990735145, -27.96742771223285), (35.758250000000004, -28.34975))
            Line((35.758250000000004, -28.34975), (48.81125, -41.40275))
            ThreePointArc((48.81125, -41.40275), (49.537082648525256, -41.88712488833806), (50.393, -42.057))
            Line((50.393, -42.057), (75.552, -42.057))
            ThreePointArc((75.552, -42.057), (77.26659003861201, -41.25724247243459), (77.75525000000002, -39.4295))
            Line((77.75525000000002, -39.4295), (66.65225000000001, 23.2455))
            ThreePointArc((66.65225000000001, 23.2455), (65.88690919328468, 24.56922697788312), (64.45, 25.092))
            Line((64.45, 25.092), (-7.635000000000001, 25.092))
            ThreePointArc((-7.635000000000001, 25.092), (-9.071909193284675, 24.569226977883115), (-9.837250000000001, 23.2455))
        make_face(mode=Mode.SUBTRACT)
    extrude(amount=-PCB_0_25_DEPTH)


solid = part.part
